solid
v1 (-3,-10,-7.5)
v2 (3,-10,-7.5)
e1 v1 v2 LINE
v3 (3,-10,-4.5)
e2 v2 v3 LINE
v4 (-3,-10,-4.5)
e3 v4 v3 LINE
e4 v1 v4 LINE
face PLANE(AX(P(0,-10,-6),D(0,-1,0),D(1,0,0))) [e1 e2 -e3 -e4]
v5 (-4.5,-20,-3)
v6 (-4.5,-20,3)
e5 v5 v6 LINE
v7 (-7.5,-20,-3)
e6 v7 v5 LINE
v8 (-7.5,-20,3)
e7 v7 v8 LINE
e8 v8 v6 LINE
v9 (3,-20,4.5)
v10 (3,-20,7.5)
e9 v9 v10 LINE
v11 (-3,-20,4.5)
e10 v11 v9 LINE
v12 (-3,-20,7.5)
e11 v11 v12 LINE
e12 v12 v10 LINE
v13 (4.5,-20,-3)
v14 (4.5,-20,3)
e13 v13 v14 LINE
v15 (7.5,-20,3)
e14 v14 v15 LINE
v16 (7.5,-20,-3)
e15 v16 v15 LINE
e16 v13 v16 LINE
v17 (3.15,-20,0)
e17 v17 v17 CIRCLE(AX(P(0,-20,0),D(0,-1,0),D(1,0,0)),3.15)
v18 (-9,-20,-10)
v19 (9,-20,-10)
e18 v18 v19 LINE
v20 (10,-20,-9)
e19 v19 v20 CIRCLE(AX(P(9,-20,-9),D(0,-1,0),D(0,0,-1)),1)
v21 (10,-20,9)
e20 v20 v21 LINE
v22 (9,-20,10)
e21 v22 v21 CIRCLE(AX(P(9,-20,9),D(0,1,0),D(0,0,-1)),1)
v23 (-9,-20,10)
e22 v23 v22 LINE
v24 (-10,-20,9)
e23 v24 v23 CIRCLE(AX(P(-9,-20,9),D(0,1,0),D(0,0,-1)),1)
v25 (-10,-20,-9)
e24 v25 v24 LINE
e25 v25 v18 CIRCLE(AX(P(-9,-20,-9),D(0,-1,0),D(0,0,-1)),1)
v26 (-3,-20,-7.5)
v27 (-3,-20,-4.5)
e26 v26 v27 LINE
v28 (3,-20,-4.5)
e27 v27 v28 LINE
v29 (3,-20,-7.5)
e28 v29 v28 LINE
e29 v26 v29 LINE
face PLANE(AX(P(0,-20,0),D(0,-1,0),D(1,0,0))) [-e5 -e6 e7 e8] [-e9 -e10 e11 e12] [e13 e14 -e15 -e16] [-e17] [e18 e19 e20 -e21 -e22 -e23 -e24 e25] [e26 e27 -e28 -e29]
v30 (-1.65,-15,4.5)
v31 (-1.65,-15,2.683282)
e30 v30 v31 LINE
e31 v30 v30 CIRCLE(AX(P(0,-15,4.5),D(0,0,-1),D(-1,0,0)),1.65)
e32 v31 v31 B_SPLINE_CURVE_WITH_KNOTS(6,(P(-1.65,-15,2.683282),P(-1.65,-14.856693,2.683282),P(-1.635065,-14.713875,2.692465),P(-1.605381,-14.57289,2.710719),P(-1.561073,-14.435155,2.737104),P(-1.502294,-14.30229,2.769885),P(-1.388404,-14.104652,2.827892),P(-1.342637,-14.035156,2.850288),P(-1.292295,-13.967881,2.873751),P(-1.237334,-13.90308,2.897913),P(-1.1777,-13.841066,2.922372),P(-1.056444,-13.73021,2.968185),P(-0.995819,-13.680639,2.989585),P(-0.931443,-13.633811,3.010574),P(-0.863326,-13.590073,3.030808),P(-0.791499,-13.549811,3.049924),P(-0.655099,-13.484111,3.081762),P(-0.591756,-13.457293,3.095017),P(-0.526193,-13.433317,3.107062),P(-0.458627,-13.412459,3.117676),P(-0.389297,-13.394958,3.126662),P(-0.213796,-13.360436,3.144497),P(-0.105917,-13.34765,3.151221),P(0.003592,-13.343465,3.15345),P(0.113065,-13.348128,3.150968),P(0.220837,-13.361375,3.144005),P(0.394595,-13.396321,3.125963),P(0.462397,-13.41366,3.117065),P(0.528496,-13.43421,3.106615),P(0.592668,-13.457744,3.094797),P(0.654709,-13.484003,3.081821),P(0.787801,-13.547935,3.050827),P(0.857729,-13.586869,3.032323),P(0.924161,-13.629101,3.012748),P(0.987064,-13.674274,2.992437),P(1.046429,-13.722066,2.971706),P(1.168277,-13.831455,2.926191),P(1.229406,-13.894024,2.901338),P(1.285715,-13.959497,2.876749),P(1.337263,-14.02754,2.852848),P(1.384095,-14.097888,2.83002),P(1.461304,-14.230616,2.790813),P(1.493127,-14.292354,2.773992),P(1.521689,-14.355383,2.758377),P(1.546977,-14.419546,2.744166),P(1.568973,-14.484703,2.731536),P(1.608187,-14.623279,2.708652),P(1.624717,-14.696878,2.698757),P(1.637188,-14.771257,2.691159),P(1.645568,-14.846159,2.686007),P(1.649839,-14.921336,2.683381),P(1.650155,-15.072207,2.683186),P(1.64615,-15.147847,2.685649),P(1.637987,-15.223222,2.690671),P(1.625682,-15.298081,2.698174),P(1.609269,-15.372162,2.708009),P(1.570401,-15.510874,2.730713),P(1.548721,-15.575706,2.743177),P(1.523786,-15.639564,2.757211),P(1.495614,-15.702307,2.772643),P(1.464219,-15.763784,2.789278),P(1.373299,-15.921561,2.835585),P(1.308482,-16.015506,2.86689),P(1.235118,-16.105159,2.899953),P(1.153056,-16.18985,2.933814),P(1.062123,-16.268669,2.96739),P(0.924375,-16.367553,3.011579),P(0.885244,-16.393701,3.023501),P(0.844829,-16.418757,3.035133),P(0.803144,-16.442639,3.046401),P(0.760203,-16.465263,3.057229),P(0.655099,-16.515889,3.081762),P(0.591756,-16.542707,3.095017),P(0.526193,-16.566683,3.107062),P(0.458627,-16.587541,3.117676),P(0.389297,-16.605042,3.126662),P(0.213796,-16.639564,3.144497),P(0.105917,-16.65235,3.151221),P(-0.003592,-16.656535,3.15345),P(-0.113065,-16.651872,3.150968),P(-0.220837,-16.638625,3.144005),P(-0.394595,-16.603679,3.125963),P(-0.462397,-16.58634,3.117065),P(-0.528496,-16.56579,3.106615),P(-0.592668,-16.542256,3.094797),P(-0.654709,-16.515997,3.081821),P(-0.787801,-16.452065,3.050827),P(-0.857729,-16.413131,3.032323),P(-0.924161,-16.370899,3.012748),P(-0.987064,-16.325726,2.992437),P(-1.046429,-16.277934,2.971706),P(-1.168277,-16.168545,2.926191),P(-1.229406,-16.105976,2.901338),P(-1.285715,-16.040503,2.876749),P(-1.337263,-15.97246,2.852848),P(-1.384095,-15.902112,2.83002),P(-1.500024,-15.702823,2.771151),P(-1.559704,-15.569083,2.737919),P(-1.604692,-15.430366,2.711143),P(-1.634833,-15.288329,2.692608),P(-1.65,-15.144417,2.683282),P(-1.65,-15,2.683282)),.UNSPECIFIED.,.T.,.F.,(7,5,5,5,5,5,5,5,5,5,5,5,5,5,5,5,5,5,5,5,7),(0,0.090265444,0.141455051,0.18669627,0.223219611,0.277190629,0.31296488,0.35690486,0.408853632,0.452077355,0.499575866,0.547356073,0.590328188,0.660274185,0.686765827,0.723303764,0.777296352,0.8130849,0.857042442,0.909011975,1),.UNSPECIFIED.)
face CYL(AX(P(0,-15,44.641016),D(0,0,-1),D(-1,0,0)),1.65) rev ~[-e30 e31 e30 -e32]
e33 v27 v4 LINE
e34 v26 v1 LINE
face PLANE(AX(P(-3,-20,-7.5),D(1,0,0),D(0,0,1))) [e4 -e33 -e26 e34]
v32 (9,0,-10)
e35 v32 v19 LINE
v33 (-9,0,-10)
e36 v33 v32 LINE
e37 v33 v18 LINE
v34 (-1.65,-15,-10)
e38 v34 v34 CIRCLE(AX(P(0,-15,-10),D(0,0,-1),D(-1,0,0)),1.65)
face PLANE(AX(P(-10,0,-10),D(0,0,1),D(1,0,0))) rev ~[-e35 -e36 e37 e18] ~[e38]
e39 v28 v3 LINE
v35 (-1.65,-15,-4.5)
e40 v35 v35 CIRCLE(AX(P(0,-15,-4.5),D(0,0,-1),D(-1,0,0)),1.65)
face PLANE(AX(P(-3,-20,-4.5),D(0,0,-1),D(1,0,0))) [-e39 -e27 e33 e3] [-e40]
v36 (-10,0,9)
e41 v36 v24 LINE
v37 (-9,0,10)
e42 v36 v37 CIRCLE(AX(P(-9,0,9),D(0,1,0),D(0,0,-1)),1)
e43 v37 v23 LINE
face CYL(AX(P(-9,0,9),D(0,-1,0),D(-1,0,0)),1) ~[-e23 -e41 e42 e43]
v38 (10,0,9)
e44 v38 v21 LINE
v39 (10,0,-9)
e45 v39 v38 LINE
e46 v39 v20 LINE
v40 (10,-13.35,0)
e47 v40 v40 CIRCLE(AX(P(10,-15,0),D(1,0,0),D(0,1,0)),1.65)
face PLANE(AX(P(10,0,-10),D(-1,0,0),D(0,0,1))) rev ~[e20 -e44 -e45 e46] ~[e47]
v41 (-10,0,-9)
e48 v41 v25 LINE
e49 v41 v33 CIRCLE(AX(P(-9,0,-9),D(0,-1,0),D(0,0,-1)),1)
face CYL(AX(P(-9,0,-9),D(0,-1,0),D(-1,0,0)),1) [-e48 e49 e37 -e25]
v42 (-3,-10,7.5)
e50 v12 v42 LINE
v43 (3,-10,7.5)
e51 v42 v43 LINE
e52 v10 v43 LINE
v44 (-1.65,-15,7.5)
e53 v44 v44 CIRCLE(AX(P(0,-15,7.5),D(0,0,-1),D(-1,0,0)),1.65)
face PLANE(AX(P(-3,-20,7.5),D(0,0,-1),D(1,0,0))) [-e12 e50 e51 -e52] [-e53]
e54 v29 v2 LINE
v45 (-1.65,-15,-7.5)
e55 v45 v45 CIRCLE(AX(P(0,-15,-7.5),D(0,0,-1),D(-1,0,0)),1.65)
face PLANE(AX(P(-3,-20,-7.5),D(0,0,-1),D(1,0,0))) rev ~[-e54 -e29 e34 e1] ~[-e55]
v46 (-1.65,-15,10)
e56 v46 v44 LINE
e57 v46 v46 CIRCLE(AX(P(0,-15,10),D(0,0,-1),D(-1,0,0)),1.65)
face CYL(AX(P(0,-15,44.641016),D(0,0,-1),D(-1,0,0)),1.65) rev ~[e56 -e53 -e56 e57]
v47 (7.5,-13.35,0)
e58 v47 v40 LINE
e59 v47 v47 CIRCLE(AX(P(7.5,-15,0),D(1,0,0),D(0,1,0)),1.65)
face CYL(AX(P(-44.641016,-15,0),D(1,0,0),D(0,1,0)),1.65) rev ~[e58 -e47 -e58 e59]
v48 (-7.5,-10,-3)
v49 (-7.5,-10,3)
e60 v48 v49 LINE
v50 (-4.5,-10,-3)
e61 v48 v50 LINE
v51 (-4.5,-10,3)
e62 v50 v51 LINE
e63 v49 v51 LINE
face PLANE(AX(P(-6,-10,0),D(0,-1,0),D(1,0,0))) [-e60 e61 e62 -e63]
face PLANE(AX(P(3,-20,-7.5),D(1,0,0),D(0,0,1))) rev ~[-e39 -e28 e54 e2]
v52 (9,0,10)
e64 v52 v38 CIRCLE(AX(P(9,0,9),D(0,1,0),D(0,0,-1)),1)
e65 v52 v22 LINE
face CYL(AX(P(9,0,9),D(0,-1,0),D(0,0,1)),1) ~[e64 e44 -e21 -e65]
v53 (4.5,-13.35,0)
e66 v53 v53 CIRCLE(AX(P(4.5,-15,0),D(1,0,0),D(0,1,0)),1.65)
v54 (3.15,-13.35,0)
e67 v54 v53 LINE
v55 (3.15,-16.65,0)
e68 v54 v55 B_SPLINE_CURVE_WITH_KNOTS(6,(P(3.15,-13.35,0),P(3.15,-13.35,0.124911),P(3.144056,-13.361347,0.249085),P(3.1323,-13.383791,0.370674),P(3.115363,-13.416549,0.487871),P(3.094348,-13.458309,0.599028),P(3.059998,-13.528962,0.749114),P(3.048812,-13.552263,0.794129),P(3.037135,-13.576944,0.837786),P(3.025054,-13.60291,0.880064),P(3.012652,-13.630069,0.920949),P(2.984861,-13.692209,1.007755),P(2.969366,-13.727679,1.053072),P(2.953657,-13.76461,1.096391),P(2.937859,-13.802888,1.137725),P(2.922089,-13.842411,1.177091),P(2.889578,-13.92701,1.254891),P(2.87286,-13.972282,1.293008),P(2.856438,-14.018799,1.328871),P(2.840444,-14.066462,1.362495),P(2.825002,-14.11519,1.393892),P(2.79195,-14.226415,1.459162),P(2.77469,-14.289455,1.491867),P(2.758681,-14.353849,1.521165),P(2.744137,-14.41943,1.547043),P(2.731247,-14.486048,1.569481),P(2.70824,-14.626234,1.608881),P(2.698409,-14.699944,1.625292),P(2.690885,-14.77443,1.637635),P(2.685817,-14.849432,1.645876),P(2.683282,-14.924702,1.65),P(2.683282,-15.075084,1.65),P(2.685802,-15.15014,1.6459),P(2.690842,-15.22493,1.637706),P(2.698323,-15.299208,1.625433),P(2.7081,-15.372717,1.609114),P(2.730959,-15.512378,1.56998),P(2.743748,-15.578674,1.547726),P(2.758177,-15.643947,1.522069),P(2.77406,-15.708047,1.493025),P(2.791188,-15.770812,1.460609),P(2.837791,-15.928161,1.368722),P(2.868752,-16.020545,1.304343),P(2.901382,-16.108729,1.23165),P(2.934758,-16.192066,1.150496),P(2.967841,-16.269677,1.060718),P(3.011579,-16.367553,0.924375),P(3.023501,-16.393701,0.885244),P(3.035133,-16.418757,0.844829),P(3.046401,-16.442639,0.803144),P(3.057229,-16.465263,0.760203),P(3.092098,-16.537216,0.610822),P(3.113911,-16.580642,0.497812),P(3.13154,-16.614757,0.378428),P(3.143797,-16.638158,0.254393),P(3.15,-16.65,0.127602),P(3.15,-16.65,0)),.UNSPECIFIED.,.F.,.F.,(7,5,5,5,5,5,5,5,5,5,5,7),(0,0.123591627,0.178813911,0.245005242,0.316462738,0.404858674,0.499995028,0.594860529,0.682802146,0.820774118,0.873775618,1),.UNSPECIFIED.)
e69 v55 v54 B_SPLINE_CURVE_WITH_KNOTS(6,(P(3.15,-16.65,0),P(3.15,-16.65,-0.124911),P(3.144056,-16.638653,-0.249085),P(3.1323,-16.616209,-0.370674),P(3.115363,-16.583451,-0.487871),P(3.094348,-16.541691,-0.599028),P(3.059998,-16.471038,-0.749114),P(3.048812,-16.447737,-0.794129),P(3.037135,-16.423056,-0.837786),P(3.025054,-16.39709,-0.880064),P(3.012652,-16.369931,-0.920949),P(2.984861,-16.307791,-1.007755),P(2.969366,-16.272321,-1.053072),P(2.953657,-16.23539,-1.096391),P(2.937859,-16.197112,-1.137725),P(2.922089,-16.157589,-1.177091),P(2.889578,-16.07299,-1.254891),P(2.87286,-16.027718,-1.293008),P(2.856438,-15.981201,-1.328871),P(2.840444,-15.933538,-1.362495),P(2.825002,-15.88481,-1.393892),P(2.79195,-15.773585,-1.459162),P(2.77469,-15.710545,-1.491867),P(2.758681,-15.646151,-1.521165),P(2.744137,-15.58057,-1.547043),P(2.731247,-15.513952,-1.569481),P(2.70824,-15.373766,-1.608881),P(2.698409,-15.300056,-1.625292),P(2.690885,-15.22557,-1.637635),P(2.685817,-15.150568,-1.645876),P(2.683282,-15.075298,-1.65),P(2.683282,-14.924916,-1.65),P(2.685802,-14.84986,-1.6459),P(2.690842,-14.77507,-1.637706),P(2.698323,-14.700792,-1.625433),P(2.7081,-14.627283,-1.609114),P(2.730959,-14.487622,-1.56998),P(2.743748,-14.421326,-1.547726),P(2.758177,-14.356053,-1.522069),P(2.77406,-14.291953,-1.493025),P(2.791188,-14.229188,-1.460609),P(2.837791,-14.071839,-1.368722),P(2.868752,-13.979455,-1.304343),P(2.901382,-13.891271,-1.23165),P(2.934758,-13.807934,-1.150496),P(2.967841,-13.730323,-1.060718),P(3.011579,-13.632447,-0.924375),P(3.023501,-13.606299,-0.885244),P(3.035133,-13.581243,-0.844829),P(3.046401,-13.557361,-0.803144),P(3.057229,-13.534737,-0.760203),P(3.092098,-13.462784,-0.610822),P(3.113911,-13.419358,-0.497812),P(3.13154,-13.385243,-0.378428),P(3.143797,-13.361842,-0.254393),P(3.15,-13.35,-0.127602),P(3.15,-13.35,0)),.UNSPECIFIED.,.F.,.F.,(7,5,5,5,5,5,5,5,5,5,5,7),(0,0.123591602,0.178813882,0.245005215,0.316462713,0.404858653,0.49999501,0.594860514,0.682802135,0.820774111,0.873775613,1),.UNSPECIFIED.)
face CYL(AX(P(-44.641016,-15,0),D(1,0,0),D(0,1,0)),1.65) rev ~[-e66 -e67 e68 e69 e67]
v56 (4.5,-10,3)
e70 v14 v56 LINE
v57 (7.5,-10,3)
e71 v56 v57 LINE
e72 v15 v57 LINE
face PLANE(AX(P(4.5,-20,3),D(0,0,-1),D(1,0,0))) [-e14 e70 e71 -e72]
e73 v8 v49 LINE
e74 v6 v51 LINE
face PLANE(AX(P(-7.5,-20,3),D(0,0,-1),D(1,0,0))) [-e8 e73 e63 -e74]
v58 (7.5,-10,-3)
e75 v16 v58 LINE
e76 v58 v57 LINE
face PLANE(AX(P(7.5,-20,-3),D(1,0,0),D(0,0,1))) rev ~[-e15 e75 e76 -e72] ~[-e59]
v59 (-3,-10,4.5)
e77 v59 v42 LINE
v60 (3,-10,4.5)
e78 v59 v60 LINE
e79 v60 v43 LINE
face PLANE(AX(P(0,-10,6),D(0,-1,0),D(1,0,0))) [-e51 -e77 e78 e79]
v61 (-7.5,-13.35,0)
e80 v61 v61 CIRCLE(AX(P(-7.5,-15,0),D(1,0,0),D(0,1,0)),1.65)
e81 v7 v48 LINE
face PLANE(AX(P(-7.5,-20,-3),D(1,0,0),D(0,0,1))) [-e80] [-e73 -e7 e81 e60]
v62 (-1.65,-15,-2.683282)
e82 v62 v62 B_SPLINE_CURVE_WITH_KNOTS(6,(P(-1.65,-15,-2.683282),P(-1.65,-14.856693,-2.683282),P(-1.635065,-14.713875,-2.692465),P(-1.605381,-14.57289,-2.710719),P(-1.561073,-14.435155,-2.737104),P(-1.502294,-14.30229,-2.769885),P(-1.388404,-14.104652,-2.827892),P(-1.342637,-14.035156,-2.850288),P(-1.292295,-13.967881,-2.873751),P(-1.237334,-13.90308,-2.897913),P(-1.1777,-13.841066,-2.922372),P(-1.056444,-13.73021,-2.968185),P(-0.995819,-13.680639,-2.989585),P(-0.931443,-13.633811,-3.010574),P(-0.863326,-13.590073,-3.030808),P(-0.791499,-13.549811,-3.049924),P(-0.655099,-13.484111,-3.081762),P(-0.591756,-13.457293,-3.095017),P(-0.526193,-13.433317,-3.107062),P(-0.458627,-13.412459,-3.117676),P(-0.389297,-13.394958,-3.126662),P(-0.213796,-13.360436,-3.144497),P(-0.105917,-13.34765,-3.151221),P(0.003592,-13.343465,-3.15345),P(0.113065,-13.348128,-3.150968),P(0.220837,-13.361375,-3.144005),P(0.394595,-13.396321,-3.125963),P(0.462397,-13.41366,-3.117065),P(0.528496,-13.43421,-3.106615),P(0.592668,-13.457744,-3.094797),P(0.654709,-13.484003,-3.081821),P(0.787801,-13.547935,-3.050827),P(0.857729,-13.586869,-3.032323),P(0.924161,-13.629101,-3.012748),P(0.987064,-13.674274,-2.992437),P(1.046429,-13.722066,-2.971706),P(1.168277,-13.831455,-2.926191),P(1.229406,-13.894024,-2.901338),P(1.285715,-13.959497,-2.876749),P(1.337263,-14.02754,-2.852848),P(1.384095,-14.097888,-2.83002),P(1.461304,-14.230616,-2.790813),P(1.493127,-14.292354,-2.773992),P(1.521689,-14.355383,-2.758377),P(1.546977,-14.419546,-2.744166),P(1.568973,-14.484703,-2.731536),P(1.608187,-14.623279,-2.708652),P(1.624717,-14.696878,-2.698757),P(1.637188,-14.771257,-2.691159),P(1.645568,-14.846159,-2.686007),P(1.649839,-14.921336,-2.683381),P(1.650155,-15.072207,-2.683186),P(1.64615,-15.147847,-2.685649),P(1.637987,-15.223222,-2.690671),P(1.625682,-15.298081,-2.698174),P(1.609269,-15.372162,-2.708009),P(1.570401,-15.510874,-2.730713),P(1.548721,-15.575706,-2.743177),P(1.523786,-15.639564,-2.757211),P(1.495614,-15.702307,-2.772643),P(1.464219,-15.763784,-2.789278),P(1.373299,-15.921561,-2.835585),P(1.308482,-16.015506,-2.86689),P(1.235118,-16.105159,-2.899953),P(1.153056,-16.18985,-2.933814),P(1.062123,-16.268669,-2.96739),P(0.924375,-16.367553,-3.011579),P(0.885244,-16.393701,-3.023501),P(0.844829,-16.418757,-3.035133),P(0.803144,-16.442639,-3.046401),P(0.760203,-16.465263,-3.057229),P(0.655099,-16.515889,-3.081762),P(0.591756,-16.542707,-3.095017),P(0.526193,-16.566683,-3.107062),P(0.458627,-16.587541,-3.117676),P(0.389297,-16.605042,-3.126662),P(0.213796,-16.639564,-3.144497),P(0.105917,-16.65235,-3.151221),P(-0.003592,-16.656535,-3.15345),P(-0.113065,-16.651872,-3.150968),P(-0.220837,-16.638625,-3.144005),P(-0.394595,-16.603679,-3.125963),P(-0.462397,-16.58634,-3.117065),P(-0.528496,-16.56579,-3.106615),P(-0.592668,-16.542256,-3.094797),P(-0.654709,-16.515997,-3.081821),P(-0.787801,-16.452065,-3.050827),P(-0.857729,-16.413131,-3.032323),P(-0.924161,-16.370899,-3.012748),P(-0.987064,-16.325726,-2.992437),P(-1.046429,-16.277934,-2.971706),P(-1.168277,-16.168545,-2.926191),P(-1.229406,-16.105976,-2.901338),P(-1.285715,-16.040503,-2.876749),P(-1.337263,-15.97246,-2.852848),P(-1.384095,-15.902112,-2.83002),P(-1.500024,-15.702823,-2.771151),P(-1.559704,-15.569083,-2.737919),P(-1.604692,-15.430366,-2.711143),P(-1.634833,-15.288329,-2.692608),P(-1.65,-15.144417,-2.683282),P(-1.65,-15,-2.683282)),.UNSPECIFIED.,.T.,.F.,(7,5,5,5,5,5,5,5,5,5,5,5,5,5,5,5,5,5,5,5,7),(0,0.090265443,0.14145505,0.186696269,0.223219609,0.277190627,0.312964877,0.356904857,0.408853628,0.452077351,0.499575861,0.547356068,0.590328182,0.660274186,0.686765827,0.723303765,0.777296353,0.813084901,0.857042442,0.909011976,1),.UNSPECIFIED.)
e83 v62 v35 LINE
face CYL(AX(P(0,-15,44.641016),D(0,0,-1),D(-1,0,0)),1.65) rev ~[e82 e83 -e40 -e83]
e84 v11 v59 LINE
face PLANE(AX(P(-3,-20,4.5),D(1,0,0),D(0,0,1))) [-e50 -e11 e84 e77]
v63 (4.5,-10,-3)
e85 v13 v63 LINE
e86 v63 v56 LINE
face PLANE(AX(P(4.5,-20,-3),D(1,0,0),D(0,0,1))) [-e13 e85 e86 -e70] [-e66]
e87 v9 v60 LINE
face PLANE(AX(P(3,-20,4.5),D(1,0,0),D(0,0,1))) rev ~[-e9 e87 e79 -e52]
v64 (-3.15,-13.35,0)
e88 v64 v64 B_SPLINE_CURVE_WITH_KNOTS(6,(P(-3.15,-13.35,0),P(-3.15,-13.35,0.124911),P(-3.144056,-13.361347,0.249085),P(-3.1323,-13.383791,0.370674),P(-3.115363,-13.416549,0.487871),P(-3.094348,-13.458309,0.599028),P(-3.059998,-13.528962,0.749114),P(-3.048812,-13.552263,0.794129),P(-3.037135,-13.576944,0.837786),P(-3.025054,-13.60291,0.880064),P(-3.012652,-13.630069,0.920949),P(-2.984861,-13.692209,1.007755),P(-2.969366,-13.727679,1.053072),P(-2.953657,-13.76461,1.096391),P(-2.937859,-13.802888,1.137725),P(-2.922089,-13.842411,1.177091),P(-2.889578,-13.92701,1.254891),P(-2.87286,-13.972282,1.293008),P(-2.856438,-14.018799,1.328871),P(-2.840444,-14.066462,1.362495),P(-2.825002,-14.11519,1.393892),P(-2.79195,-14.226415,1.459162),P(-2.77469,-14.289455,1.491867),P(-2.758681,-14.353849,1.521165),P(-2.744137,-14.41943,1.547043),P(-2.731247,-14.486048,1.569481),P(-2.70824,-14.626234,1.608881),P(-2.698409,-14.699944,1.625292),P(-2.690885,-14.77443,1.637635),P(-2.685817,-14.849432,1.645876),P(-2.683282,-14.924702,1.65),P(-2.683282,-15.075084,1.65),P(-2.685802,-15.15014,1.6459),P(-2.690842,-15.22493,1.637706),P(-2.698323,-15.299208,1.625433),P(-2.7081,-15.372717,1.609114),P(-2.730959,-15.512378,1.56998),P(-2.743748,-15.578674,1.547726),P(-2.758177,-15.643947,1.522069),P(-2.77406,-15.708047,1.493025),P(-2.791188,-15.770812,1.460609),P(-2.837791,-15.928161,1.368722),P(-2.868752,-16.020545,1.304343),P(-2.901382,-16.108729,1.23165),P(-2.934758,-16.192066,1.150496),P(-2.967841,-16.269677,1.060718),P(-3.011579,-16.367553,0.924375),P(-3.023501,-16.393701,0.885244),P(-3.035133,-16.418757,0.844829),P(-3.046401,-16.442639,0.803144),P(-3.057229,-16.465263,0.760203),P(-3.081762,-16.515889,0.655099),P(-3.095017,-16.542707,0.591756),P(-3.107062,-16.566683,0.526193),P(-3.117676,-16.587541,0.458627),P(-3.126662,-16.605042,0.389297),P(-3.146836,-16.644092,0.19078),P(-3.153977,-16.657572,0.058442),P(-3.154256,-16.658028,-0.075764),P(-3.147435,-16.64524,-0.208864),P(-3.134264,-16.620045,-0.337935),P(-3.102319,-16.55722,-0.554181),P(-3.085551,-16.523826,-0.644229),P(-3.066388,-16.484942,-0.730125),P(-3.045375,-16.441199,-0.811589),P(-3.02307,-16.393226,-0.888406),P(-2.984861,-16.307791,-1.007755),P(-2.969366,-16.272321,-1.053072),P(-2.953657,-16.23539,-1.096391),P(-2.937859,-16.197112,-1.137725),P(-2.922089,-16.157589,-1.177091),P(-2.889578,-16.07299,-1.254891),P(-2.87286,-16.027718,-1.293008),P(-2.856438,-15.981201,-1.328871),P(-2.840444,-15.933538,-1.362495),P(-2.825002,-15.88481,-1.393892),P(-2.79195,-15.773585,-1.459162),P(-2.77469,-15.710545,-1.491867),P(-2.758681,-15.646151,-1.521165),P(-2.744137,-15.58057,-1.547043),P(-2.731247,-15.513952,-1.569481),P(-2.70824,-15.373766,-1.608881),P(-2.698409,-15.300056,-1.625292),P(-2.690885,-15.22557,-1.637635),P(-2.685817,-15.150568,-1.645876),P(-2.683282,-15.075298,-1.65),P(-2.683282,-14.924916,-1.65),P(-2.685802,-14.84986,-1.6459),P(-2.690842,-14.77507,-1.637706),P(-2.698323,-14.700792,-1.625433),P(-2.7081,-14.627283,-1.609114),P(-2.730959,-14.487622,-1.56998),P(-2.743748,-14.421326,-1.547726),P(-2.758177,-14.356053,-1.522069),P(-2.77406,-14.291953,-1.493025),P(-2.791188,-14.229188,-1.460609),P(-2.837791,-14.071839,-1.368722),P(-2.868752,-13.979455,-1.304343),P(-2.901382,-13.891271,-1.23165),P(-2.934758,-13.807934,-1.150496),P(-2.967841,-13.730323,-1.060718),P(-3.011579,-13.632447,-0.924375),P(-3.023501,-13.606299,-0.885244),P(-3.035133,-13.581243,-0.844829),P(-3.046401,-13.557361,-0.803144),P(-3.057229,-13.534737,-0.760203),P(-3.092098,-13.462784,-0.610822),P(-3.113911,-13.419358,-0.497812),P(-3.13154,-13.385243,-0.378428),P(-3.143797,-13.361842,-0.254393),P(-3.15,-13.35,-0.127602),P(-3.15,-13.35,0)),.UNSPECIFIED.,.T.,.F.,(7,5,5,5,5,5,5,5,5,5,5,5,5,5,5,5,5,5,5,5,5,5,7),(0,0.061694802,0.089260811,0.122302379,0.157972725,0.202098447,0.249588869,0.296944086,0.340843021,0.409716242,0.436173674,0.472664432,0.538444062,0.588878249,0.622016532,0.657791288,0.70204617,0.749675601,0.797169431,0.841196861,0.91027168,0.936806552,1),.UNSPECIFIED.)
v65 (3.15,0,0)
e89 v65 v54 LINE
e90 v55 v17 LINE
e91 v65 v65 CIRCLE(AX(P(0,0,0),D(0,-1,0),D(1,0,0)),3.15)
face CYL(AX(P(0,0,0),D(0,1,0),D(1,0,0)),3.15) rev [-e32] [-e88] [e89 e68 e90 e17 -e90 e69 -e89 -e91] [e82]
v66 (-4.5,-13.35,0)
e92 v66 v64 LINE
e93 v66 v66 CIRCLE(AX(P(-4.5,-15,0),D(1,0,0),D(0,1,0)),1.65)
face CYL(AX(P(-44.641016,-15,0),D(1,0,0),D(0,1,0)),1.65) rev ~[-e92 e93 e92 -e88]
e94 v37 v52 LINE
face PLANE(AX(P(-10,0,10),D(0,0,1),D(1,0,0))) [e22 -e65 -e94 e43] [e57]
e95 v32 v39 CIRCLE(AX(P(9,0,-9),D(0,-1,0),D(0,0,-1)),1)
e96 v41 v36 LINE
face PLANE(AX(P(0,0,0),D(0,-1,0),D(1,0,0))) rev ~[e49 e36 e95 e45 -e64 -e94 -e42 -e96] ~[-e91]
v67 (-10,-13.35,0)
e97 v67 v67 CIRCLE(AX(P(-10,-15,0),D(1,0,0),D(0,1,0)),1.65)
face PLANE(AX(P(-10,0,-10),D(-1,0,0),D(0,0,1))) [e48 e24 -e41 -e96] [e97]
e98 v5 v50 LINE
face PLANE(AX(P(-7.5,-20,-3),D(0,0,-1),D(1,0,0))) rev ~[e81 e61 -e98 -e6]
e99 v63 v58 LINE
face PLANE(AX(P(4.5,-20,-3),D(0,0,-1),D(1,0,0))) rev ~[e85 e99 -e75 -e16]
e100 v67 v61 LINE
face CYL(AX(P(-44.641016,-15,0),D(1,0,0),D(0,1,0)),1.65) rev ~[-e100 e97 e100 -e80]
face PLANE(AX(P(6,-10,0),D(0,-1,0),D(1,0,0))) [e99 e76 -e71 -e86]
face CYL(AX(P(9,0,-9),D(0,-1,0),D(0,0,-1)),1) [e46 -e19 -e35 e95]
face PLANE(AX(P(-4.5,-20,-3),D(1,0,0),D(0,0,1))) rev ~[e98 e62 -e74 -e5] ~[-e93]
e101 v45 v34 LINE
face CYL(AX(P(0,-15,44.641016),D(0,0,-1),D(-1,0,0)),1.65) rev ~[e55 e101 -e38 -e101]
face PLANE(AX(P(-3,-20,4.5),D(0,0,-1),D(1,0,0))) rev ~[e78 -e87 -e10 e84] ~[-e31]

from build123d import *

# Parameters (mm, degrees)
F0_W       = 20
F0_H       = 20
F0_R       = 3.15
F1_DEPTH   = 20
F2_W       = 6
F2_H       = 3
F2_W_2     = 3
F2_H_2     = 6
F3_DEPTH   = 10
F6_D       = 3.3
F6_ON_F5_D = 3.3
F7_R       = 1


with BuildPart() as f1:
    # F0 (on Front) → F1 (new body)
    with BuildSketch(Plane.XZ):
        Rectangle(F0_W, F0_H)
        Circle(F0_R, mode=Mode.SUBTRACT)
    extrude(amount=F1_DEPTH)

    # F2 (on face) → F3 (cut)
    with BuildSketch(Plane.XZ.offset(20)):
        with Locations((0, 6)):
            Rectangle(F2_W, F2_H)
        with Locations((-6, 0)):
            Rectangle(F2_W_2, F2_H_2)
        with Locations((6, 0)):
            Rectangle(F2_W_2, F2_H_2)
        with Locations((0, -6)):
            Rectangle(F2_W, F2_H)
    extrude(amount=-F3_DEPTH, mode=Mode.SUBTRACT)

    # F6 (through all)
    with Locations(Plane.XY.offset(10)):
        with Locations((0, -15)):
            Hole(F6_D / 2)

    # F6 on F5 (through all)
    with Locations(Plane(origin=(-10, 0, 0), x_dir=(0, -1, 0), z_dir=(-1, 0, 0))):
        with Locations((15, 0)):
            Hole(F6_ON_F5_D / 2)

    # F7
    f7_edges = [f1.edges().sort_by_distance(p)[0] for p in [
        (-10, -10, 10),
        (10, -10, 10),
        (-10, -10, -10),
        (10, -10, -10),
    ]]
    fillet(f7_edges, radius=F7_R)


solid = f1.part
